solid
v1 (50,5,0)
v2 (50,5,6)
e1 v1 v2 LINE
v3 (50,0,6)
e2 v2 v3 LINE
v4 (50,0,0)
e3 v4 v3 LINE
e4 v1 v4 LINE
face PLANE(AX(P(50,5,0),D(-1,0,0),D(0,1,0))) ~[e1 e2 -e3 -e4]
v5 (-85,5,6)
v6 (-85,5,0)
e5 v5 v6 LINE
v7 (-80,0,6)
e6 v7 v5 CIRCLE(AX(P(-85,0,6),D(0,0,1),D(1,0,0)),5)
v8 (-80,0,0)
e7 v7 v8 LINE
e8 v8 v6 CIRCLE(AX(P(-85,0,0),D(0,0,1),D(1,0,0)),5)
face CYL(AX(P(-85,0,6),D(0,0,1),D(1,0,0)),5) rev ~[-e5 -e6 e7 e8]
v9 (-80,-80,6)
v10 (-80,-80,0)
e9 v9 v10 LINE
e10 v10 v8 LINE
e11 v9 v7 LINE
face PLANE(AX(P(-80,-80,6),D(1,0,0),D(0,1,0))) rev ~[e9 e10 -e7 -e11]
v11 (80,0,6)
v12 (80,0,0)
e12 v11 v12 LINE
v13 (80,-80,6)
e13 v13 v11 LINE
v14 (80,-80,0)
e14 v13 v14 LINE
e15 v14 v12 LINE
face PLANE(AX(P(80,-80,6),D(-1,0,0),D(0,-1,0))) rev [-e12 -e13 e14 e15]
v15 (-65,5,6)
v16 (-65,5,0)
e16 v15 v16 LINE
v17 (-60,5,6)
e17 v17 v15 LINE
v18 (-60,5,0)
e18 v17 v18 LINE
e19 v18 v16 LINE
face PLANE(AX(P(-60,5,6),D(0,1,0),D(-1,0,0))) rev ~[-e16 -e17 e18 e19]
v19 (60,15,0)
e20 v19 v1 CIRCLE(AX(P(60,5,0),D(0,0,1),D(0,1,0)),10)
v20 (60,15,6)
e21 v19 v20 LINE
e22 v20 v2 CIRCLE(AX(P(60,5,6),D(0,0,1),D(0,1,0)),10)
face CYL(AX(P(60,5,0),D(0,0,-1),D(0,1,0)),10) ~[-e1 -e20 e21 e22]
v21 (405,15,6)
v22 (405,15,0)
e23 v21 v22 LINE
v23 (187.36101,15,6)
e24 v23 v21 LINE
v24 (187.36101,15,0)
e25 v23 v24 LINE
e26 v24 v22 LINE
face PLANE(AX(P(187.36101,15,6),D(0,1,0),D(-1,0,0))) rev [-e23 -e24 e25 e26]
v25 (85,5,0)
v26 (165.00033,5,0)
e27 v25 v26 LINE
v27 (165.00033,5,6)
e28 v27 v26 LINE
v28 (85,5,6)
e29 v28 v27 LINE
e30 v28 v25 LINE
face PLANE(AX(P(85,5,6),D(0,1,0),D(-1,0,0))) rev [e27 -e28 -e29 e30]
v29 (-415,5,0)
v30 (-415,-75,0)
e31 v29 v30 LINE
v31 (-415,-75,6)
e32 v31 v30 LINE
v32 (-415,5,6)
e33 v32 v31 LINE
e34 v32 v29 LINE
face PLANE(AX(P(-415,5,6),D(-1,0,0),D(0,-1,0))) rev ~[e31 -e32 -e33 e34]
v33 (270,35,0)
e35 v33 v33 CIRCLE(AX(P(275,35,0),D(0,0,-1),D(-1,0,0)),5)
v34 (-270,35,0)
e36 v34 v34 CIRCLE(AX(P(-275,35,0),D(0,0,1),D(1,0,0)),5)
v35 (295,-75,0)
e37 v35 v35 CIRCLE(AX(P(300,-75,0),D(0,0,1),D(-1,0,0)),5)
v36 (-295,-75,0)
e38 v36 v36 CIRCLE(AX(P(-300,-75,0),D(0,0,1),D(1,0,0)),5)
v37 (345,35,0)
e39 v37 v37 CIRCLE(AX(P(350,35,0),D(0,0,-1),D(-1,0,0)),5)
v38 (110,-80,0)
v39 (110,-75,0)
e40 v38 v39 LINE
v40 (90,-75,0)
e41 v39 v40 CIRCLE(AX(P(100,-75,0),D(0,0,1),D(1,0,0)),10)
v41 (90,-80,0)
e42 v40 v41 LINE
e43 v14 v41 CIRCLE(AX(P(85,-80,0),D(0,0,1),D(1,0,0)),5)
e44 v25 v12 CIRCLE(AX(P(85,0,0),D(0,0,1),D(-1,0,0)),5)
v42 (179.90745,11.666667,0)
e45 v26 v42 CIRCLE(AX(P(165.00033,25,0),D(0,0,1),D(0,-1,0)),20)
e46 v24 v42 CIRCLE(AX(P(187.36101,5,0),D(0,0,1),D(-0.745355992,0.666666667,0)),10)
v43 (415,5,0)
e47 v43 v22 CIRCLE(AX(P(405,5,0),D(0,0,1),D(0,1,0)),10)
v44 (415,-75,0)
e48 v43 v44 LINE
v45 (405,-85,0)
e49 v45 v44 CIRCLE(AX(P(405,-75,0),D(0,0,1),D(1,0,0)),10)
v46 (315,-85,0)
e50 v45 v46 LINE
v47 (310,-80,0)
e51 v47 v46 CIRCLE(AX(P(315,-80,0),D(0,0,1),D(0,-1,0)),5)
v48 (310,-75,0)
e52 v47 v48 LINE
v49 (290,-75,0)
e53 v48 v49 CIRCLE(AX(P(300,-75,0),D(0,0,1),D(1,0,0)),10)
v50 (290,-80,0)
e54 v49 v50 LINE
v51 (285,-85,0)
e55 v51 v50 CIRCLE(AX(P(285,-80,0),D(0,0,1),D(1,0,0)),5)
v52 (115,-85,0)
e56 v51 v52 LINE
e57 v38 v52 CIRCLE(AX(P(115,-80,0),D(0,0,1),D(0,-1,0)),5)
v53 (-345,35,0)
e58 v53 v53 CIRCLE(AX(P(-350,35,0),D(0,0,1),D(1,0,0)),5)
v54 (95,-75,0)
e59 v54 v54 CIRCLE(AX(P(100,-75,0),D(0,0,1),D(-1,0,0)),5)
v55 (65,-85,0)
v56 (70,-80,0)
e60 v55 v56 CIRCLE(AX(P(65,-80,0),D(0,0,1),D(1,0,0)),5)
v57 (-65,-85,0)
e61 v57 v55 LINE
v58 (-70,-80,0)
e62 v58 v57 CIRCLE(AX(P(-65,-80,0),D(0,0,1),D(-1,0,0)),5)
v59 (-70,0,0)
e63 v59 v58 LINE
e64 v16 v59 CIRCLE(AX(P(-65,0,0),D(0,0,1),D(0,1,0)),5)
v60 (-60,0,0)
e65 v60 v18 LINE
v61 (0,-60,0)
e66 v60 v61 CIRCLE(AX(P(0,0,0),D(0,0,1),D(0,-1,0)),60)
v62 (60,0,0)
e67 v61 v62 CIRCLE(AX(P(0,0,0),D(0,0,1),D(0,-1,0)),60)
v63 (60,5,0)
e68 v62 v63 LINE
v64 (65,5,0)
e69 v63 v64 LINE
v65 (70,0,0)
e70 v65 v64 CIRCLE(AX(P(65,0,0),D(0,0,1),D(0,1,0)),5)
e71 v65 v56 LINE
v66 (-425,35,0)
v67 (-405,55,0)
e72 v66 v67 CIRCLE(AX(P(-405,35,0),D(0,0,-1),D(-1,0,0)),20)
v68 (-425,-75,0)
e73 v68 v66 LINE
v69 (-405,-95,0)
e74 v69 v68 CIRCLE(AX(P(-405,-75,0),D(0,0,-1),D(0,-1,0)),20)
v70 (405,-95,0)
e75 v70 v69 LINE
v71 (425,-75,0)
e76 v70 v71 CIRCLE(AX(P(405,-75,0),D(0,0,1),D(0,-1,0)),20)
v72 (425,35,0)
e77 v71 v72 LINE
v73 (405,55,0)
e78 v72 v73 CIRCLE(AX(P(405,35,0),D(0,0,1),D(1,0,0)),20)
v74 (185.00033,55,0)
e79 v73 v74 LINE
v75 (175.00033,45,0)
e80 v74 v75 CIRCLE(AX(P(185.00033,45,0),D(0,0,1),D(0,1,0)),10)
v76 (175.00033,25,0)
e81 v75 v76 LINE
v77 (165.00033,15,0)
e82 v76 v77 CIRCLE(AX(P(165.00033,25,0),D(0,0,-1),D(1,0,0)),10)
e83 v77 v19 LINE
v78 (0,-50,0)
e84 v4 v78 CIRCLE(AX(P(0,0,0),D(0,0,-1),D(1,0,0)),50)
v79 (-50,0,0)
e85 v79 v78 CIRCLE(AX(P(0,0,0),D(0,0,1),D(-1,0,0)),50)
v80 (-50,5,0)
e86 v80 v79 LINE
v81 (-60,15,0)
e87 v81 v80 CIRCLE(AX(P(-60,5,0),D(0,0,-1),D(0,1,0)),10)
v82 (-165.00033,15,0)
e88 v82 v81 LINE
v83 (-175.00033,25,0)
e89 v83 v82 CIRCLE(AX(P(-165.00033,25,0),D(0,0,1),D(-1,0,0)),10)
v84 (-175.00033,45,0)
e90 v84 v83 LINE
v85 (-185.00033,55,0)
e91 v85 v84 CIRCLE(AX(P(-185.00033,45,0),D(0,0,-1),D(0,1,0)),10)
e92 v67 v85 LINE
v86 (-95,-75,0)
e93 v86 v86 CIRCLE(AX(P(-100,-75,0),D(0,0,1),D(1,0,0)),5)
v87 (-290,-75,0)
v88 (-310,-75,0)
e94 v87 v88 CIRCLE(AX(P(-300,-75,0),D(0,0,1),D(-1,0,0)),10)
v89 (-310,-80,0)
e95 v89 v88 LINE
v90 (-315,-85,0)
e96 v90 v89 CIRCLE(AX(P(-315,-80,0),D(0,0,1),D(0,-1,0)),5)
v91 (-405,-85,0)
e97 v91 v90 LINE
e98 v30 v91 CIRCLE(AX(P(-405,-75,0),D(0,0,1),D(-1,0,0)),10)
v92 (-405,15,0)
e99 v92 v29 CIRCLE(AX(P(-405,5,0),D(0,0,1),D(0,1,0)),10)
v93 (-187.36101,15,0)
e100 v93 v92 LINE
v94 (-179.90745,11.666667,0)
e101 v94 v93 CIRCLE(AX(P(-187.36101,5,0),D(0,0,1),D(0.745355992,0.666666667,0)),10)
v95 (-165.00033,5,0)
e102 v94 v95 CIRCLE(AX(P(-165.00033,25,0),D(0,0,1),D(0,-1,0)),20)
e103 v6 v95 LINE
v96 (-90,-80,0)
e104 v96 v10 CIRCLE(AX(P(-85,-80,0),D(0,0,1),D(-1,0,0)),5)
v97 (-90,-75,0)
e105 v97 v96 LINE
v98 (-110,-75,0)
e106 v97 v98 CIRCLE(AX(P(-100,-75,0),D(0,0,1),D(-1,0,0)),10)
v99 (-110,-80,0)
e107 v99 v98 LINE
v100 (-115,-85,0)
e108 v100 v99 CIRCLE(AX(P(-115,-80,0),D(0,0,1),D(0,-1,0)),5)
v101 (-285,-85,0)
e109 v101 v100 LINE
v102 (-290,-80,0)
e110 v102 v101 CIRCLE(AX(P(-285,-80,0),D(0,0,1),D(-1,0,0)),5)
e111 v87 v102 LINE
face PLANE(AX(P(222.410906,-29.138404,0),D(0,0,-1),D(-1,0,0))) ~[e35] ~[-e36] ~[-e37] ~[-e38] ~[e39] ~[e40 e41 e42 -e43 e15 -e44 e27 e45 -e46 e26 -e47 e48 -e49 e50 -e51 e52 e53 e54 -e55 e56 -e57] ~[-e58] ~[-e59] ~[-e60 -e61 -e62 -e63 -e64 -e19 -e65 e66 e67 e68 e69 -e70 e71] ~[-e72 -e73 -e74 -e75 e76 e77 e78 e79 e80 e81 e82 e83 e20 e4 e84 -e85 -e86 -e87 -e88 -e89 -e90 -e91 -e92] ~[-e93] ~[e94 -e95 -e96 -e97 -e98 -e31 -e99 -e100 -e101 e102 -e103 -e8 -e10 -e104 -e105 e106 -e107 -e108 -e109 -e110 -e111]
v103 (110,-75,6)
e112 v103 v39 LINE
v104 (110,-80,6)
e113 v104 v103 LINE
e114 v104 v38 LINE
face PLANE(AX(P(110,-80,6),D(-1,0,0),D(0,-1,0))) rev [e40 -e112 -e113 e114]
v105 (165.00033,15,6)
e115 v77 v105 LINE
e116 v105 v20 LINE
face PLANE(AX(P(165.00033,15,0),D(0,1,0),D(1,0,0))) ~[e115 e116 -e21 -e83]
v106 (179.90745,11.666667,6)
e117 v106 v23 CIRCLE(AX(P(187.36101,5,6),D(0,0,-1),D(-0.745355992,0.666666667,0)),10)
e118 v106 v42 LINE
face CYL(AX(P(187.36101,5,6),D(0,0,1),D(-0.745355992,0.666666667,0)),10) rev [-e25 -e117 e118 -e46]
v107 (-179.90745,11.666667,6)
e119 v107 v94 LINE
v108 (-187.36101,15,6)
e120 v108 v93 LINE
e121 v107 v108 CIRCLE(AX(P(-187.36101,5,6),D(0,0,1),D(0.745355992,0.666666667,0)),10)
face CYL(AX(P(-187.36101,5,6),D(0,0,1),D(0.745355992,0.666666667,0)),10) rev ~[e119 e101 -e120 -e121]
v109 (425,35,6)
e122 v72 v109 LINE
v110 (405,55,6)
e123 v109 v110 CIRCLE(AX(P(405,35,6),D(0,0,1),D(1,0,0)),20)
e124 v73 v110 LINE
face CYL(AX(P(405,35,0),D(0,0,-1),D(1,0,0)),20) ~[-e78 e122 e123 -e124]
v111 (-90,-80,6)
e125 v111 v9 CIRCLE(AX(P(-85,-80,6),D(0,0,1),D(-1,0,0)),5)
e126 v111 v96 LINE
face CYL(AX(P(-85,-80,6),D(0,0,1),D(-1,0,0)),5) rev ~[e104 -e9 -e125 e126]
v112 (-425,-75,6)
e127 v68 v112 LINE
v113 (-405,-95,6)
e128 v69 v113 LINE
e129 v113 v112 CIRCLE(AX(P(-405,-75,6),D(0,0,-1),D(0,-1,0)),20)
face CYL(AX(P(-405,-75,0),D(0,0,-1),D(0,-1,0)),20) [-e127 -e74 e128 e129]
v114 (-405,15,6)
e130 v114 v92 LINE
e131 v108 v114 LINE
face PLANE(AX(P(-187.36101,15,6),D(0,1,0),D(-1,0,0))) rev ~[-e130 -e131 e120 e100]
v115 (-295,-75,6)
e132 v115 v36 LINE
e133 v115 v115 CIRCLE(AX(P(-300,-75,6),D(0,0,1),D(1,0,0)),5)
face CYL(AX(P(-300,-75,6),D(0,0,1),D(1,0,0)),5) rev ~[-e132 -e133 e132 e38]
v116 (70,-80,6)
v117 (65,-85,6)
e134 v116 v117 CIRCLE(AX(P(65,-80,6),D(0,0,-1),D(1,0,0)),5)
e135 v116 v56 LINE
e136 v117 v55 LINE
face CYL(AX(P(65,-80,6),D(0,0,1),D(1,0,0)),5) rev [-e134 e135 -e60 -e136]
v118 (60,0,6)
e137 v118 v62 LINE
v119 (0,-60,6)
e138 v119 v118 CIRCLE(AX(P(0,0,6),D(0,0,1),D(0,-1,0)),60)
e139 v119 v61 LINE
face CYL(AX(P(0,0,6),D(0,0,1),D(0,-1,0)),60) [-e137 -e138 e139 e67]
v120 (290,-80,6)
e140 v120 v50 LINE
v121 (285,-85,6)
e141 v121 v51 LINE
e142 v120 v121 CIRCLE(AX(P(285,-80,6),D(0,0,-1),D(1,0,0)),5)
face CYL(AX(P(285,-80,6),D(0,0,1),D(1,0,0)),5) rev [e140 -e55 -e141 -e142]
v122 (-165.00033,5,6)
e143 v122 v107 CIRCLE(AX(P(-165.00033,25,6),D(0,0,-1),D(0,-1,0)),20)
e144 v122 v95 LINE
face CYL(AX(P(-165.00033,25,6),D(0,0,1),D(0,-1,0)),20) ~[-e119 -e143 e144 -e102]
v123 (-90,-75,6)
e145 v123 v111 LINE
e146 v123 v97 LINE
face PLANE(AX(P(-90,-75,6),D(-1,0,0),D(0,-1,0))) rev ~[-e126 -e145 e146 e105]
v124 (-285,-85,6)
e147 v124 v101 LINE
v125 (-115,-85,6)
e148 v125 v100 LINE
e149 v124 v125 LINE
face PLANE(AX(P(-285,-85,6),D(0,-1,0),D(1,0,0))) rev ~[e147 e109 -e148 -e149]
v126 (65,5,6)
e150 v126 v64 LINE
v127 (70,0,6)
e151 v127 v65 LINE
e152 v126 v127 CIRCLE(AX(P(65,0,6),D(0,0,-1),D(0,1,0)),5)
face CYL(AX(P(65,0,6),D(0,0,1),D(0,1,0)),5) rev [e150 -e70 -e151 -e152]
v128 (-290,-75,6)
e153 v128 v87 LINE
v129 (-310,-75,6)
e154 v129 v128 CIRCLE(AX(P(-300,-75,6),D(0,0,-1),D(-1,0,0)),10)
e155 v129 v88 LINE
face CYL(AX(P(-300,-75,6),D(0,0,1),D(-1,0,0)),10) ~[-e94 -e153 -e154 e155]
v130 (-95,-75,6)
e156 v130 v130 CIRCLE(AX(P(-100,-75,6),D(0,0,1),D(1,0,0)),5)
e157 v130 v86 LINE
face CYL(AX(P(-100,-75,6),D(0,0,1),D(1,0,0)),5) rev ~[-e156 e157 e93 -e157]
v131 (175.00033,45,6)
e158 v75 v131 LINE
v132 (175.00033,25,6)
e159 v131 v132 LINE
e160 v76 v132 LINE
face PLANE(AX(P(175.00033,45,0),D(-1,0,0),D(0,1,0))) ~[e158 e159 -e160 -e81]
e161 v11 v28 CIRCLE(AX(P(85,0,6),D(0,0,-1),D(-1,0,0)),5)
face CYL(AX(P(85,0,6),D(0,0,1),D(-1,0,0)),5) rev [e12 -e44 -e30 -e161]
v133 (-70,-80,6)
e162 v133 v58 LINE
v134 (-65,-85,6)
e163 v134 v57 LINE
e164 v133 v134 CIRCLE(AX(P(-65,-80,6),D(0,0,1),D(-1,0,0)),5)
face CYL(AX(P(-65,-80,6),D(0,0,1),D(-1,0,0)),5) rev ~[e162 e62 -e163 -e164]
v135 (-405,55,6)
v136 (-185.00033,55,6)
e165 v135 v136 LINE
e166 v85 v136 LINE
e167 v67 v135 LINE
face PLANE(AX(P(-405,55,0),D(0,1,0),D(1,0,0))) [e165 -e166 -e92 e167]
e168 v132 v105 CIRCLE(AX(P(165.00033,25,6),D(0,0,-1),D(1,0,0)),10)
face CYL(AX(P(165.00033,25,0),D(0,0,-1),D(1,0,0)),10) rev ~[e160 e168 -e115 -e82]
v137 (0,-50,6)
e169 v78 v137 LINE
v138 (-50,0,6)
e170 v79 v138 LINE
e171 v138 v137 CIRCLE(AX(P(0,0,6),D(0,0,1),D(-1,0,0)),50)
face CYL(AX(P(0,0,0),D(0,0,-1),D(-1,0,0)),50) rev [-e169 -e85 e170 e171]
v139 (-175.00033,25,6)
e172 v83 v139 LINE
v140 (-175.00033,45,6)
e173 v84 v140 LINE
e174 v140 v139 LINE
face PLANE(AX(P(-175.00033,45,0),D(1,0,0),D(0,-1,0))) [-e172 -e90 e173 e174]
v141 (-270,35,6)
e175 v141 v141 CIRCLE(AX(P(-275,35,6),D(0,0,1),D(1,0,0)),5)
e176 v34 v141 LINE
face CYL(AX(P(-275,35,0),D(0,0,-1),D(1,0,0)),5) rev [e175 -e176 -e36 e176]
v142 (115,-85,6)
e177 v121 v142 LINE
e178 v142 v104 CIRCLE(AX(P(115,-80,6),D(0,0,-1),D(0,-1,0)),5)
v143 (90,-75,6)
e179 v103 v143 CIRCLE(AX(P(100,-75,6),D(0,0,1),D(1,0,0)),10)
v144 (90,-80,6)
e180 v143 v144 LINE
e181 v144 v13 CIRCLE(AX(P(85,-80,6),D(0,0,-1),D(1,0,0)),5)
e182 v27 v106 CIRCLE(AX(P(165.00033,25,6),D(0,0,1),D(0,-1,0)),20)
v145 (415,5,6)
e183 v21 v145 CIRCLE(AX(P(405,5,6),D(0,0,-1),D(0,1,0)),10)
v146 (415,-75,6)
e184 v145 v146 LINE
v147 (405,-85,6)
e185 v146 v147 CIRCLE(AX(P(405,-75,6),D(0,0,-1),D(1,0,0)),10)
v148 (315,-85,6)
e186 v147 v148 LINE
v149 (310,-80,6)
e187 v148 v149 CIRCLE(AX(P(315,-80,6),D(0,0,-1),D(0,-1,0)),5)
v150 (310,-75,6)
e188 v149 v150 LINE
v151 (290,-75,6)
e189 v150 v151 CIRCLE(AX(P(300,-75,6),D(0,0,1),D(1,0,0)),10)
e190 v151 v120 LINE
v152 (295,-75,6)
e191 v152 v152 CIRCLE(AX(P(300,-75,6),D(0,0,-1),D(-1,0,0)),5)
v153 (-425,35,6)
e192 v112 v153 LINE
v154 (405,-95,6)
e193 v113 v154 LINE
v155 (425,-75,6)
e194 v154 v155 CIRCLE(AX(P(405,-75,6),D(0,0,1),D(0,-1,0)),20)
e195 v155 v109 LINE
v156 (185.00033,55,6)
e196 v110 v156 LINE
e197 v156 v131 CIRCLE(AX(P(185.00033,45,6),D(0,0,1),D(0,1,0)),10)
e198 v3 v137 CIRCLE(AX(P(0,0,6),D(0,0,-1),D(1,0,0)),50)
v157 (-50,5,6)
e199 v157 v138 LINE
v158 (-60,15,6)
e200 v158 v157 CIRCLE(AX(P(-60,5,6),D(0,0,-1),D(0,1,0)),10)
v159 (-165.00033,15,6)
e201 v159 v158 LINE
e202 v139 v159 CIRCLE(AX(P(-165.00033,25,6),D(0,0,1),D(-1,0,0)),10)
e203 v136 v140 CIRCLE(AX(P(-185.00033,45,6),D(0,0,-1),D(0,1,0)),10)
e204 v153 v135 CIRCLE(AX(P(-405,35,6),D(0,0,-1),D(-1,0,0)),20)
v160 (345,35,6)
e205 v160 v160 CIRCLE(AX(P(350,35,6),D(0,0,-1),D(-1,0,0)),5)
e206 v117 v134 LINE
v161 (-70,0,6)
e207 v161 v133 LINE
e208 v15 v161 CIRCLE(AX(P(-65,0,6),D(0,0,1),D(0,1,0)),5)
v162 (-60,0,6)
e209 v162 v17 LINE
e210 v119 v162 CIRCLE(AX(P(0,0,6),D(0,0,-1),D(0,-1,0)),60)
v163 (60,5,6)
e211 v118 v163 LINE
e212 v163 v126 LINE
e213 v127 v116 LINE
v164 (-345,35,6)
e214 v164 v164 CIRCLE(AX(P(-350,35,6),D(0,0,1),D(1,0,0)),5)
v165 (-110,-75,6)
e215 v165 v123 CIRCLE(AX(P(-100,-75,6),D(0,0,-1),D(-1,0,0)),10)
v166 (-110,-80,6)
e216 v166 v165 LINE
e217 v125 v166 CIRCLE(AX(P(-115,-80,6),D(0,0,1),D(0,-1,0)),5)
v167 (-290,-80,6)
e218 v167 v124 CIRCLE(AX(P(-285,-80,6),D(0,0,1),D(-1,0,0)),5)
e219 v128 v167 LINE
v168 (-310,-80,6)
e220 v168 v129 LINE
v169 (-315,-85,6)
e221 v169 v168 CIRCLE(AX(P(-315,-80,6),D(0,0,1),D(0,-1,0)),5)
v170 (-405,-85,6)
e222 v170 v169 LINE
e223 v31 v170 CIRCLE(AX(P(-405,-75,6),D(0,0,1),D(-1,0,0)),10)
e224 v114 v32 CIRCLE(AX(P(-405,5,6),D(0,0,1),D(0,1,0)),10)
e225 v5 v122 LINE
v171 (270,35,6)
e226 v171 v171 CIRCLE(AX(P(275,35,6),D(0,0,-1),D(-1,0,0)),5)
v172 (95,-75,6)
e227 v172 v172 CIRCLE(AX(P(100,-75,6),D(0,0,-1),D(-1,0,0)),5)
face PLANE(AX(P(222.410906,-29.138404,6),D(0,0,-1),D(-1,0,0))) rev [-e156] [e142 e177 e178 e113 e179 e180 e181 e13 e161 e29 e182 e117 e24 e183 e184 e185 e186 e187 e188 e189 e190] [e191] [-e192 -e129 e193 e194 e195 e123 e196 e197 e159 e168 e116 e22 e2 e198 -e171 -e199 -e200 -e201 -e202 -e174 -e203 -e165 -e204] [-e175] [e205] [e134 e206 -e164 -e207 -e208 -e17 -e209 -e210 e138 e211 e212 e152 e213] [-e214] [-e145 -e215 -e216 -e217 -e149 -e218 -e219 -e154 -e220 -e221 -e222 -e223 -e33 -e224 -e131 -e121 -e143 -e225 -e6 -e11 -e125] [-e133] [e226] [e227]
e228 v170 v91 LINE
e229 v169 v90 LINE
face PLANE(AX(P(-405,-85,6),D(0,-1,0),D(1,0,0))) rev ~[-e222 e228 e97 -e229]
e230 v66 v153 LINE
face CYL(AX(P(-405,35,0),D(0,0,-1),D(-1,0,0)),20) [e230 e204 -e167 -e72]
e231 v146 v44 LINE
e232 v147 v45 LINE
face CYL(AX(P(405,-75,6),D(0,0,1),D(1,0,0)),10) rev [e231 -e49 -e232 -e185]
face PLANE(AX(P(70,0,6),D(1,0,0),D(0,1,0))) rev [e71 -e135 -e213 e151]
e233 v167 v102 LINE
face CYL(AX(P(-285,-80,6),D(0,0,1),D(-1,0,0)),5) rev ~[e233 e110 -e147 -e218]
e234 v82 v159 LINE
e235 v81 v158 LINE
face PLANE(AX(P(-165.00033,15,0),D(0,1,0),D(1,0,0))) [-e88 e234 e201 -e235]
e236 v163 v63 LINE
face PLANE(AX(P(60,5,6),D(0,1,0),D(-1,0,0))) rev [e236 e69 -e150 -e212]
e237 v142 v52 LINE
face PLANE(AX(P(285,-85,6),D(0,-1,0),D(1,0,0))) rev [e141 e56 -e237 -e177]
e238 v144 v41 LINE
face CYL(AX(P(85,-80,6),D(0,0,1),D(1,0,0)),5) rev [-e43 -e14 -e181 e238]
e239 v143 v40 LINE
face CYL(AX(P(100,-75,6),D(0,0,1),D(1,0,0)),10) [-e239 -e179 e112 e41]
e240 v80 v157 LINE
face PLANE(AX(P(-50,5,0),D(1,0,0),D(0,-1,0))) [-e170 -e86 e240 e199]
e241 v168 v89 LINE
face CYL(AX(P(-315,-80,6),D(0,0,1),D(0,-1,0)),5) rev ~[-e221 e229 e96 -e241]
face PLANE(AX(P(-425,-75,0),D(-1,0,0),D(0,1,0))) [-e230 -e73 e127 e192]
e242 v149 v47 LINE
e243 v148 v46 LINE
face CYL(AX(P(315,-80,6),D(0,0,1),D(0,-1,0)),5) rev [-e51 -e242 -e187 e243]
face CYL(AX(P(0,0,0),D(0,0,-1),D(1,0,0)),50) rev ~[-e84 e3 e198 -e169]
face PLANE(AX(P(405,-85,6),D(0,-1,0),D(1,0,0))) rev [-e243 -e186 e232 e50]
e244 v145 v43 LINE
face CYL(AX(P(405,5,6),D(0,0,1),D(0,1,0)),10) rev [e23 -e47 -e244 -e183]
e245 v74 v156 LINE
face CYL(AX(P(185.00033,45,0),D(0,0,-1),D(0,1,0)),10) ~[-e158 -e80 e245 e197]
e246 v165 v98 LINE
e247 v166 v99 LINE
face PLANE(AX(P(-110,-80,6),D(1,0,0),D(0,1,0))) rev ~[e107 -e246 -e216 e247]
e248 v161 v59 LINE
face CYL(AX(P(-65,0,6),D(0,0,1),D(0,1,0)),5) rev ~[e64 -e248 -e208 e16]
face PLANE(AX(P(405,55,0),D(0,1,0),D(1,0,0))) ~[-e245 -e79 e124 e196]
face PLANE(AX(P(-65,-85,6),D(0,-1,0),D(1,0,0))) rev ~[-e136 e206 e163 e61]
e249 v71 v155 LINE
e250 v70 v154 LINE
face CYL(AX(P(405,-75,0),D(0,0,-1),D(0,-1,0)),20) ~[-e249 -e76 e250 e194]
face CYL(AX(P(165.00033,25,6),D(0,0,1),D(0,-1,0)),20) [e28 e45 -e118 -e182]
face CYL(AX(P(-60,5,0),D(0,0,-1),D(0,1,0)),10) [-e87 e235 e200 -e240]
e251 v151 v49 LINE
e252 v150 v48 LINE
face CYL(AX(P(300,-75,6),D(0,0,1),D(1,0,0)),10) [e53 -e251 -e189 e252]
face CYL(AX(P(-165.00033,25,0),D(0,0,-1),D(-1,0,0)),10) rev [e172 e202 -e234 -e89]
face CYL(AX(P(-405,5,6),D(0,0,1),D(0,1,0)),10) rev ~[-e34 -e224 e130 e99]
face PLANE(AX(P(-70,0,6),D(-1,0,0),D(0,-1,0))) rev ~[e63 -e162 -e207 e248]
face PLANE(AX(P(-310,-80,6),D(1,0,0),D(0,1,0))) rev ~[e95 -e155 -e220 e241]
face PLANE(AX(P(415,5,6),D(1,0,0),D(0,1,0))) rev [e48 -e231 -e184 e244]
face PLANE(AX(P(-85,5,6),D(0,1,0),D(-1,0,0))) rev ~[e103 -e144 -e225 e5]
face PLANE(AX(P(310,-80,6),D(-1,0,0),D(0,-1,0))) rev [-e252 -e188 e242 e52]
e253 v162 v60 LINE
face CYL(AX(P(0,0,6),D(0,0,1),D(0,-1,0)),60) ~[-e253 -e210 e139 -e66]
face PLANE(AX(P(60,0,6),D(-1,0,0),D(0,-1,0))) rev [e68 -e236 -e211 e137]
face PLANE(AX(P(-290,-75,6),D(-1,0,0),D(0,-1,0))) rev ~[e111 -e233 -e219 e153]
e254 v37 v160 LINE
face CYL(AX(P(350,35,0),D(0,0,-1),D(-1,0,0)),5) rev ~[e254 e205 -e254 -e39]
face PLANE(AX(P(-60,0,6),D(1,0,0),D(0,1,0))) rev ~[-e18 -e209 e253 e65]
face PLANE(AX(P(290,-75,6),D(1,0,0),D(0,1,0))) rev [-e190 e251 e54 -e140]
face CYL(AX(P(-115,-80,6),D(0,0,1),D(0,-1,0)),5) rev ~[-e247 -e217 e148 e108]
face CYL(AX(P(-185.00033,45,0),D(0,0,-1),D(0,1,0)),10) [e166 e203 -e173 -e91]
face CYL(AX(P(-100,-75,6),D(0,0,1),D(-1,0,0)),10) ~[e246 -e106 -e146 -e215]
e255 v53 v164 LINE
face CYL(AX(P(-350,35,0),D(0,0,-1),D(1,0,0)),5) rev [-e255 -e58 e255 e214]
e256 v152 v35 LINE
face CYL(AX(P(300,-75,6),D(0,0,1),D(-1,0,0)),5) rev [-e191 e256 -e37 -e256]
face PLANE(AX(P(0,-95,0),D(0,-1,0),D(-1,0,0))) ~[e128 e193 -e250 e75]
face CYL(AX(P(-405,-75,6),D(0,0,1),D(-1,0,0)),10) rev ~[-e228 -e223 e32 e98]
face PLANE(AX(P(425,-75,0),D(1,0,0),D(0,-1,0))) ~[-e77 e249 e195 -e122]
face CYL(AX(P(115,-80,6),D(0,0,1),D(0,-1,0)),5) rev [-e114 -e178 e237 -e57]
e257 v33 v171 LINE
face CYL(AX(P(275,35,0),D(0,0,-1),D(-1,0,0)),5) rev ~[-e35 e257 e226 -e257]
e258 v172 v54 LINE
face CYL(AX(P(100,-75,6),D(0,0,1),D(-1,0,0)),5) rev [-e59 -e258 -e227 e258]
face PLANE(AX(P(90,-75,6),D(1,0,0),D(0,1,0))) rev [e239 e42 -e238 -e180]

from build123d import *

# Parameters (mm, degrees)
SKETCH1_R           = 5
BOSS_EXTRUDE1_DEPTH = 6
SKETCH2_R           = 5
CUT_EXTRUDE1_DEPTH  = 436.529562716


with BuildPart() as part:
    # Sketch1 → Boss-Extrude1 (new body)
    with BuildSketch(Plane.XY):
        with BuildLine():
            Line((-425, -75), (-425, 35))
            ThreePointArc((-425, 35), (-419.142135624, 49.142135624), (-405, 55))
            Line((-405, 55), (-185.000330481, 55))
            ThreePointArc((-185.000330481, 55), (-177.92926267, 52.071067812), (-175.000330481, 45))
            Line((-175.000330481, 45), (-175.000330481, 25))
            ThreePointArc((-175.000330481, 25), (-172.071398293, 17.928932188), (-165.000330481, 15))
            Line((-165.000330481, 15), (-60, 15))
            ThreePointArc((-60, 15), (-52.928932188, 12.071067812), (-50, 5))
            Line((-50, 5), (-50, 0))
            ThreePointArc((-50, 0), (-35.355339059, -35.355339059), (0, -50))
            Line((0, -50), (0, -95))
            Line((0, -95), (-405, -95))
            ThreePointArc((-405, -95), (-419.142135624, -89.142135624), (-425, -75))
        make_face()
        with Locations((-350, 35)):
            Circle(SKETCH1_R, mode=Mode.SUBTRACT)
        with Locations((-275, 35)):
            Circle(SKETCH1_R, mode=Mode.SUBTRACT)
    boss_extrude1 = extrude(amount=BOSS_EXTRUDE1_DEPTH)

    # Mirror1: Boss-Extrude1 across plane
    add(boss_extrude1.mirror(Plane(origin=(0, -50, 6), x_dir=(0, 0, 1), z_dir=(-1, 0, 0))))

    # Sketch2 → Cut-Extrude1 (cut, through all)
    with BuildSketch(Plane.XY.offset(6)):
        with BuildLine():
            ThreePointArc((-310, -75), (-300, -65), (-290, -75))
            Line((-290, -75), (-290, -80))
            ThreePointArc((-290, -80), (-288.535533906, -83.535533906), (-285, -85))
            Line((-285, -85), (-115, -85))
            ThreePointArc((-115, -85), (-111.464466094, -83.535533906), (-110, -80))
            Line((-110, -80), (-110, -75))
            ThreePointArc((-110, -75), (-100, -65), (-90, -75))
            Line((-90, -75), (-90, -80))
            ThreePointArc((-90, -80), (-85, -85), (-80, -80))
            Line((-80, -80), (-80, 0))
            ThreePointArc((-80, 0), (-81.464466094, 3.535533906), (-85, 5))
            Line((-85, 5), (-165.000330481, 5))
            ThreePointArc((-165.000330481, 5), (-173.165296291, 6.742581416), (-179.907450331, 11.666666667))
            ThreePointArc((-179.907450331, 11.666666667), (-183.278527352, 14.128709292), (-187.361010256, 15))
            Line((-187.361010256, 15), (-405, 15))
            ThreePointArc((-405, 15), (-412.071067812, 12.071067812), (-415, 5))
            Line((-415, 5), (-415, -75))
            ThreePointArc((-415, -75), (-412.071067812, -82.071067812), (-405, -85))
            Line((-405, -85), (-315, -85))
            ThreePointArc((-315, -85), (-311.464466094, -83.535533906), (-310, -80))
            Line((-310, -80), (-310, -75))
        make_face()
        with BuildLine():
            ThreePointArc((-70, -80), (-68.535533906, -83.535533906), (-65, -85))
            Line((-65, -85), (0, -85))
            Line((0, -85), (0, -60))
            ThreePointArc((0, -60), (-42.426406871, -42.426406871), (-60, 0))
            Line((-60, 0), (-60, 5))
            Line((-60, 5), (-65, 5))
            ThreePointArc((-65, 5), (-68.535533906, 3.535533906), (-70, 0))
            Line((-70, 0), (-70, -80))
        make_face()
        with Locations((-300, -75)):
            Circle(SKETCH2_R)
        with Locations((-100, -75)):
            Circle(SKETCH2_R)
    cut_extrude1 = extrude(amount=-CUT_EXTRUDE1_DEPTH, mode=Mode.SUBTRACT)

    # Mirror2: Cut-Extrude1 across plane
    add(cut_extrude1.mirror(Plane(origin=(0, 0, 0), x_dir=(0, 0, 1), z_dir=(1, 0, 0))), mode=Mode.SUBTRACT)


solid = part.part
